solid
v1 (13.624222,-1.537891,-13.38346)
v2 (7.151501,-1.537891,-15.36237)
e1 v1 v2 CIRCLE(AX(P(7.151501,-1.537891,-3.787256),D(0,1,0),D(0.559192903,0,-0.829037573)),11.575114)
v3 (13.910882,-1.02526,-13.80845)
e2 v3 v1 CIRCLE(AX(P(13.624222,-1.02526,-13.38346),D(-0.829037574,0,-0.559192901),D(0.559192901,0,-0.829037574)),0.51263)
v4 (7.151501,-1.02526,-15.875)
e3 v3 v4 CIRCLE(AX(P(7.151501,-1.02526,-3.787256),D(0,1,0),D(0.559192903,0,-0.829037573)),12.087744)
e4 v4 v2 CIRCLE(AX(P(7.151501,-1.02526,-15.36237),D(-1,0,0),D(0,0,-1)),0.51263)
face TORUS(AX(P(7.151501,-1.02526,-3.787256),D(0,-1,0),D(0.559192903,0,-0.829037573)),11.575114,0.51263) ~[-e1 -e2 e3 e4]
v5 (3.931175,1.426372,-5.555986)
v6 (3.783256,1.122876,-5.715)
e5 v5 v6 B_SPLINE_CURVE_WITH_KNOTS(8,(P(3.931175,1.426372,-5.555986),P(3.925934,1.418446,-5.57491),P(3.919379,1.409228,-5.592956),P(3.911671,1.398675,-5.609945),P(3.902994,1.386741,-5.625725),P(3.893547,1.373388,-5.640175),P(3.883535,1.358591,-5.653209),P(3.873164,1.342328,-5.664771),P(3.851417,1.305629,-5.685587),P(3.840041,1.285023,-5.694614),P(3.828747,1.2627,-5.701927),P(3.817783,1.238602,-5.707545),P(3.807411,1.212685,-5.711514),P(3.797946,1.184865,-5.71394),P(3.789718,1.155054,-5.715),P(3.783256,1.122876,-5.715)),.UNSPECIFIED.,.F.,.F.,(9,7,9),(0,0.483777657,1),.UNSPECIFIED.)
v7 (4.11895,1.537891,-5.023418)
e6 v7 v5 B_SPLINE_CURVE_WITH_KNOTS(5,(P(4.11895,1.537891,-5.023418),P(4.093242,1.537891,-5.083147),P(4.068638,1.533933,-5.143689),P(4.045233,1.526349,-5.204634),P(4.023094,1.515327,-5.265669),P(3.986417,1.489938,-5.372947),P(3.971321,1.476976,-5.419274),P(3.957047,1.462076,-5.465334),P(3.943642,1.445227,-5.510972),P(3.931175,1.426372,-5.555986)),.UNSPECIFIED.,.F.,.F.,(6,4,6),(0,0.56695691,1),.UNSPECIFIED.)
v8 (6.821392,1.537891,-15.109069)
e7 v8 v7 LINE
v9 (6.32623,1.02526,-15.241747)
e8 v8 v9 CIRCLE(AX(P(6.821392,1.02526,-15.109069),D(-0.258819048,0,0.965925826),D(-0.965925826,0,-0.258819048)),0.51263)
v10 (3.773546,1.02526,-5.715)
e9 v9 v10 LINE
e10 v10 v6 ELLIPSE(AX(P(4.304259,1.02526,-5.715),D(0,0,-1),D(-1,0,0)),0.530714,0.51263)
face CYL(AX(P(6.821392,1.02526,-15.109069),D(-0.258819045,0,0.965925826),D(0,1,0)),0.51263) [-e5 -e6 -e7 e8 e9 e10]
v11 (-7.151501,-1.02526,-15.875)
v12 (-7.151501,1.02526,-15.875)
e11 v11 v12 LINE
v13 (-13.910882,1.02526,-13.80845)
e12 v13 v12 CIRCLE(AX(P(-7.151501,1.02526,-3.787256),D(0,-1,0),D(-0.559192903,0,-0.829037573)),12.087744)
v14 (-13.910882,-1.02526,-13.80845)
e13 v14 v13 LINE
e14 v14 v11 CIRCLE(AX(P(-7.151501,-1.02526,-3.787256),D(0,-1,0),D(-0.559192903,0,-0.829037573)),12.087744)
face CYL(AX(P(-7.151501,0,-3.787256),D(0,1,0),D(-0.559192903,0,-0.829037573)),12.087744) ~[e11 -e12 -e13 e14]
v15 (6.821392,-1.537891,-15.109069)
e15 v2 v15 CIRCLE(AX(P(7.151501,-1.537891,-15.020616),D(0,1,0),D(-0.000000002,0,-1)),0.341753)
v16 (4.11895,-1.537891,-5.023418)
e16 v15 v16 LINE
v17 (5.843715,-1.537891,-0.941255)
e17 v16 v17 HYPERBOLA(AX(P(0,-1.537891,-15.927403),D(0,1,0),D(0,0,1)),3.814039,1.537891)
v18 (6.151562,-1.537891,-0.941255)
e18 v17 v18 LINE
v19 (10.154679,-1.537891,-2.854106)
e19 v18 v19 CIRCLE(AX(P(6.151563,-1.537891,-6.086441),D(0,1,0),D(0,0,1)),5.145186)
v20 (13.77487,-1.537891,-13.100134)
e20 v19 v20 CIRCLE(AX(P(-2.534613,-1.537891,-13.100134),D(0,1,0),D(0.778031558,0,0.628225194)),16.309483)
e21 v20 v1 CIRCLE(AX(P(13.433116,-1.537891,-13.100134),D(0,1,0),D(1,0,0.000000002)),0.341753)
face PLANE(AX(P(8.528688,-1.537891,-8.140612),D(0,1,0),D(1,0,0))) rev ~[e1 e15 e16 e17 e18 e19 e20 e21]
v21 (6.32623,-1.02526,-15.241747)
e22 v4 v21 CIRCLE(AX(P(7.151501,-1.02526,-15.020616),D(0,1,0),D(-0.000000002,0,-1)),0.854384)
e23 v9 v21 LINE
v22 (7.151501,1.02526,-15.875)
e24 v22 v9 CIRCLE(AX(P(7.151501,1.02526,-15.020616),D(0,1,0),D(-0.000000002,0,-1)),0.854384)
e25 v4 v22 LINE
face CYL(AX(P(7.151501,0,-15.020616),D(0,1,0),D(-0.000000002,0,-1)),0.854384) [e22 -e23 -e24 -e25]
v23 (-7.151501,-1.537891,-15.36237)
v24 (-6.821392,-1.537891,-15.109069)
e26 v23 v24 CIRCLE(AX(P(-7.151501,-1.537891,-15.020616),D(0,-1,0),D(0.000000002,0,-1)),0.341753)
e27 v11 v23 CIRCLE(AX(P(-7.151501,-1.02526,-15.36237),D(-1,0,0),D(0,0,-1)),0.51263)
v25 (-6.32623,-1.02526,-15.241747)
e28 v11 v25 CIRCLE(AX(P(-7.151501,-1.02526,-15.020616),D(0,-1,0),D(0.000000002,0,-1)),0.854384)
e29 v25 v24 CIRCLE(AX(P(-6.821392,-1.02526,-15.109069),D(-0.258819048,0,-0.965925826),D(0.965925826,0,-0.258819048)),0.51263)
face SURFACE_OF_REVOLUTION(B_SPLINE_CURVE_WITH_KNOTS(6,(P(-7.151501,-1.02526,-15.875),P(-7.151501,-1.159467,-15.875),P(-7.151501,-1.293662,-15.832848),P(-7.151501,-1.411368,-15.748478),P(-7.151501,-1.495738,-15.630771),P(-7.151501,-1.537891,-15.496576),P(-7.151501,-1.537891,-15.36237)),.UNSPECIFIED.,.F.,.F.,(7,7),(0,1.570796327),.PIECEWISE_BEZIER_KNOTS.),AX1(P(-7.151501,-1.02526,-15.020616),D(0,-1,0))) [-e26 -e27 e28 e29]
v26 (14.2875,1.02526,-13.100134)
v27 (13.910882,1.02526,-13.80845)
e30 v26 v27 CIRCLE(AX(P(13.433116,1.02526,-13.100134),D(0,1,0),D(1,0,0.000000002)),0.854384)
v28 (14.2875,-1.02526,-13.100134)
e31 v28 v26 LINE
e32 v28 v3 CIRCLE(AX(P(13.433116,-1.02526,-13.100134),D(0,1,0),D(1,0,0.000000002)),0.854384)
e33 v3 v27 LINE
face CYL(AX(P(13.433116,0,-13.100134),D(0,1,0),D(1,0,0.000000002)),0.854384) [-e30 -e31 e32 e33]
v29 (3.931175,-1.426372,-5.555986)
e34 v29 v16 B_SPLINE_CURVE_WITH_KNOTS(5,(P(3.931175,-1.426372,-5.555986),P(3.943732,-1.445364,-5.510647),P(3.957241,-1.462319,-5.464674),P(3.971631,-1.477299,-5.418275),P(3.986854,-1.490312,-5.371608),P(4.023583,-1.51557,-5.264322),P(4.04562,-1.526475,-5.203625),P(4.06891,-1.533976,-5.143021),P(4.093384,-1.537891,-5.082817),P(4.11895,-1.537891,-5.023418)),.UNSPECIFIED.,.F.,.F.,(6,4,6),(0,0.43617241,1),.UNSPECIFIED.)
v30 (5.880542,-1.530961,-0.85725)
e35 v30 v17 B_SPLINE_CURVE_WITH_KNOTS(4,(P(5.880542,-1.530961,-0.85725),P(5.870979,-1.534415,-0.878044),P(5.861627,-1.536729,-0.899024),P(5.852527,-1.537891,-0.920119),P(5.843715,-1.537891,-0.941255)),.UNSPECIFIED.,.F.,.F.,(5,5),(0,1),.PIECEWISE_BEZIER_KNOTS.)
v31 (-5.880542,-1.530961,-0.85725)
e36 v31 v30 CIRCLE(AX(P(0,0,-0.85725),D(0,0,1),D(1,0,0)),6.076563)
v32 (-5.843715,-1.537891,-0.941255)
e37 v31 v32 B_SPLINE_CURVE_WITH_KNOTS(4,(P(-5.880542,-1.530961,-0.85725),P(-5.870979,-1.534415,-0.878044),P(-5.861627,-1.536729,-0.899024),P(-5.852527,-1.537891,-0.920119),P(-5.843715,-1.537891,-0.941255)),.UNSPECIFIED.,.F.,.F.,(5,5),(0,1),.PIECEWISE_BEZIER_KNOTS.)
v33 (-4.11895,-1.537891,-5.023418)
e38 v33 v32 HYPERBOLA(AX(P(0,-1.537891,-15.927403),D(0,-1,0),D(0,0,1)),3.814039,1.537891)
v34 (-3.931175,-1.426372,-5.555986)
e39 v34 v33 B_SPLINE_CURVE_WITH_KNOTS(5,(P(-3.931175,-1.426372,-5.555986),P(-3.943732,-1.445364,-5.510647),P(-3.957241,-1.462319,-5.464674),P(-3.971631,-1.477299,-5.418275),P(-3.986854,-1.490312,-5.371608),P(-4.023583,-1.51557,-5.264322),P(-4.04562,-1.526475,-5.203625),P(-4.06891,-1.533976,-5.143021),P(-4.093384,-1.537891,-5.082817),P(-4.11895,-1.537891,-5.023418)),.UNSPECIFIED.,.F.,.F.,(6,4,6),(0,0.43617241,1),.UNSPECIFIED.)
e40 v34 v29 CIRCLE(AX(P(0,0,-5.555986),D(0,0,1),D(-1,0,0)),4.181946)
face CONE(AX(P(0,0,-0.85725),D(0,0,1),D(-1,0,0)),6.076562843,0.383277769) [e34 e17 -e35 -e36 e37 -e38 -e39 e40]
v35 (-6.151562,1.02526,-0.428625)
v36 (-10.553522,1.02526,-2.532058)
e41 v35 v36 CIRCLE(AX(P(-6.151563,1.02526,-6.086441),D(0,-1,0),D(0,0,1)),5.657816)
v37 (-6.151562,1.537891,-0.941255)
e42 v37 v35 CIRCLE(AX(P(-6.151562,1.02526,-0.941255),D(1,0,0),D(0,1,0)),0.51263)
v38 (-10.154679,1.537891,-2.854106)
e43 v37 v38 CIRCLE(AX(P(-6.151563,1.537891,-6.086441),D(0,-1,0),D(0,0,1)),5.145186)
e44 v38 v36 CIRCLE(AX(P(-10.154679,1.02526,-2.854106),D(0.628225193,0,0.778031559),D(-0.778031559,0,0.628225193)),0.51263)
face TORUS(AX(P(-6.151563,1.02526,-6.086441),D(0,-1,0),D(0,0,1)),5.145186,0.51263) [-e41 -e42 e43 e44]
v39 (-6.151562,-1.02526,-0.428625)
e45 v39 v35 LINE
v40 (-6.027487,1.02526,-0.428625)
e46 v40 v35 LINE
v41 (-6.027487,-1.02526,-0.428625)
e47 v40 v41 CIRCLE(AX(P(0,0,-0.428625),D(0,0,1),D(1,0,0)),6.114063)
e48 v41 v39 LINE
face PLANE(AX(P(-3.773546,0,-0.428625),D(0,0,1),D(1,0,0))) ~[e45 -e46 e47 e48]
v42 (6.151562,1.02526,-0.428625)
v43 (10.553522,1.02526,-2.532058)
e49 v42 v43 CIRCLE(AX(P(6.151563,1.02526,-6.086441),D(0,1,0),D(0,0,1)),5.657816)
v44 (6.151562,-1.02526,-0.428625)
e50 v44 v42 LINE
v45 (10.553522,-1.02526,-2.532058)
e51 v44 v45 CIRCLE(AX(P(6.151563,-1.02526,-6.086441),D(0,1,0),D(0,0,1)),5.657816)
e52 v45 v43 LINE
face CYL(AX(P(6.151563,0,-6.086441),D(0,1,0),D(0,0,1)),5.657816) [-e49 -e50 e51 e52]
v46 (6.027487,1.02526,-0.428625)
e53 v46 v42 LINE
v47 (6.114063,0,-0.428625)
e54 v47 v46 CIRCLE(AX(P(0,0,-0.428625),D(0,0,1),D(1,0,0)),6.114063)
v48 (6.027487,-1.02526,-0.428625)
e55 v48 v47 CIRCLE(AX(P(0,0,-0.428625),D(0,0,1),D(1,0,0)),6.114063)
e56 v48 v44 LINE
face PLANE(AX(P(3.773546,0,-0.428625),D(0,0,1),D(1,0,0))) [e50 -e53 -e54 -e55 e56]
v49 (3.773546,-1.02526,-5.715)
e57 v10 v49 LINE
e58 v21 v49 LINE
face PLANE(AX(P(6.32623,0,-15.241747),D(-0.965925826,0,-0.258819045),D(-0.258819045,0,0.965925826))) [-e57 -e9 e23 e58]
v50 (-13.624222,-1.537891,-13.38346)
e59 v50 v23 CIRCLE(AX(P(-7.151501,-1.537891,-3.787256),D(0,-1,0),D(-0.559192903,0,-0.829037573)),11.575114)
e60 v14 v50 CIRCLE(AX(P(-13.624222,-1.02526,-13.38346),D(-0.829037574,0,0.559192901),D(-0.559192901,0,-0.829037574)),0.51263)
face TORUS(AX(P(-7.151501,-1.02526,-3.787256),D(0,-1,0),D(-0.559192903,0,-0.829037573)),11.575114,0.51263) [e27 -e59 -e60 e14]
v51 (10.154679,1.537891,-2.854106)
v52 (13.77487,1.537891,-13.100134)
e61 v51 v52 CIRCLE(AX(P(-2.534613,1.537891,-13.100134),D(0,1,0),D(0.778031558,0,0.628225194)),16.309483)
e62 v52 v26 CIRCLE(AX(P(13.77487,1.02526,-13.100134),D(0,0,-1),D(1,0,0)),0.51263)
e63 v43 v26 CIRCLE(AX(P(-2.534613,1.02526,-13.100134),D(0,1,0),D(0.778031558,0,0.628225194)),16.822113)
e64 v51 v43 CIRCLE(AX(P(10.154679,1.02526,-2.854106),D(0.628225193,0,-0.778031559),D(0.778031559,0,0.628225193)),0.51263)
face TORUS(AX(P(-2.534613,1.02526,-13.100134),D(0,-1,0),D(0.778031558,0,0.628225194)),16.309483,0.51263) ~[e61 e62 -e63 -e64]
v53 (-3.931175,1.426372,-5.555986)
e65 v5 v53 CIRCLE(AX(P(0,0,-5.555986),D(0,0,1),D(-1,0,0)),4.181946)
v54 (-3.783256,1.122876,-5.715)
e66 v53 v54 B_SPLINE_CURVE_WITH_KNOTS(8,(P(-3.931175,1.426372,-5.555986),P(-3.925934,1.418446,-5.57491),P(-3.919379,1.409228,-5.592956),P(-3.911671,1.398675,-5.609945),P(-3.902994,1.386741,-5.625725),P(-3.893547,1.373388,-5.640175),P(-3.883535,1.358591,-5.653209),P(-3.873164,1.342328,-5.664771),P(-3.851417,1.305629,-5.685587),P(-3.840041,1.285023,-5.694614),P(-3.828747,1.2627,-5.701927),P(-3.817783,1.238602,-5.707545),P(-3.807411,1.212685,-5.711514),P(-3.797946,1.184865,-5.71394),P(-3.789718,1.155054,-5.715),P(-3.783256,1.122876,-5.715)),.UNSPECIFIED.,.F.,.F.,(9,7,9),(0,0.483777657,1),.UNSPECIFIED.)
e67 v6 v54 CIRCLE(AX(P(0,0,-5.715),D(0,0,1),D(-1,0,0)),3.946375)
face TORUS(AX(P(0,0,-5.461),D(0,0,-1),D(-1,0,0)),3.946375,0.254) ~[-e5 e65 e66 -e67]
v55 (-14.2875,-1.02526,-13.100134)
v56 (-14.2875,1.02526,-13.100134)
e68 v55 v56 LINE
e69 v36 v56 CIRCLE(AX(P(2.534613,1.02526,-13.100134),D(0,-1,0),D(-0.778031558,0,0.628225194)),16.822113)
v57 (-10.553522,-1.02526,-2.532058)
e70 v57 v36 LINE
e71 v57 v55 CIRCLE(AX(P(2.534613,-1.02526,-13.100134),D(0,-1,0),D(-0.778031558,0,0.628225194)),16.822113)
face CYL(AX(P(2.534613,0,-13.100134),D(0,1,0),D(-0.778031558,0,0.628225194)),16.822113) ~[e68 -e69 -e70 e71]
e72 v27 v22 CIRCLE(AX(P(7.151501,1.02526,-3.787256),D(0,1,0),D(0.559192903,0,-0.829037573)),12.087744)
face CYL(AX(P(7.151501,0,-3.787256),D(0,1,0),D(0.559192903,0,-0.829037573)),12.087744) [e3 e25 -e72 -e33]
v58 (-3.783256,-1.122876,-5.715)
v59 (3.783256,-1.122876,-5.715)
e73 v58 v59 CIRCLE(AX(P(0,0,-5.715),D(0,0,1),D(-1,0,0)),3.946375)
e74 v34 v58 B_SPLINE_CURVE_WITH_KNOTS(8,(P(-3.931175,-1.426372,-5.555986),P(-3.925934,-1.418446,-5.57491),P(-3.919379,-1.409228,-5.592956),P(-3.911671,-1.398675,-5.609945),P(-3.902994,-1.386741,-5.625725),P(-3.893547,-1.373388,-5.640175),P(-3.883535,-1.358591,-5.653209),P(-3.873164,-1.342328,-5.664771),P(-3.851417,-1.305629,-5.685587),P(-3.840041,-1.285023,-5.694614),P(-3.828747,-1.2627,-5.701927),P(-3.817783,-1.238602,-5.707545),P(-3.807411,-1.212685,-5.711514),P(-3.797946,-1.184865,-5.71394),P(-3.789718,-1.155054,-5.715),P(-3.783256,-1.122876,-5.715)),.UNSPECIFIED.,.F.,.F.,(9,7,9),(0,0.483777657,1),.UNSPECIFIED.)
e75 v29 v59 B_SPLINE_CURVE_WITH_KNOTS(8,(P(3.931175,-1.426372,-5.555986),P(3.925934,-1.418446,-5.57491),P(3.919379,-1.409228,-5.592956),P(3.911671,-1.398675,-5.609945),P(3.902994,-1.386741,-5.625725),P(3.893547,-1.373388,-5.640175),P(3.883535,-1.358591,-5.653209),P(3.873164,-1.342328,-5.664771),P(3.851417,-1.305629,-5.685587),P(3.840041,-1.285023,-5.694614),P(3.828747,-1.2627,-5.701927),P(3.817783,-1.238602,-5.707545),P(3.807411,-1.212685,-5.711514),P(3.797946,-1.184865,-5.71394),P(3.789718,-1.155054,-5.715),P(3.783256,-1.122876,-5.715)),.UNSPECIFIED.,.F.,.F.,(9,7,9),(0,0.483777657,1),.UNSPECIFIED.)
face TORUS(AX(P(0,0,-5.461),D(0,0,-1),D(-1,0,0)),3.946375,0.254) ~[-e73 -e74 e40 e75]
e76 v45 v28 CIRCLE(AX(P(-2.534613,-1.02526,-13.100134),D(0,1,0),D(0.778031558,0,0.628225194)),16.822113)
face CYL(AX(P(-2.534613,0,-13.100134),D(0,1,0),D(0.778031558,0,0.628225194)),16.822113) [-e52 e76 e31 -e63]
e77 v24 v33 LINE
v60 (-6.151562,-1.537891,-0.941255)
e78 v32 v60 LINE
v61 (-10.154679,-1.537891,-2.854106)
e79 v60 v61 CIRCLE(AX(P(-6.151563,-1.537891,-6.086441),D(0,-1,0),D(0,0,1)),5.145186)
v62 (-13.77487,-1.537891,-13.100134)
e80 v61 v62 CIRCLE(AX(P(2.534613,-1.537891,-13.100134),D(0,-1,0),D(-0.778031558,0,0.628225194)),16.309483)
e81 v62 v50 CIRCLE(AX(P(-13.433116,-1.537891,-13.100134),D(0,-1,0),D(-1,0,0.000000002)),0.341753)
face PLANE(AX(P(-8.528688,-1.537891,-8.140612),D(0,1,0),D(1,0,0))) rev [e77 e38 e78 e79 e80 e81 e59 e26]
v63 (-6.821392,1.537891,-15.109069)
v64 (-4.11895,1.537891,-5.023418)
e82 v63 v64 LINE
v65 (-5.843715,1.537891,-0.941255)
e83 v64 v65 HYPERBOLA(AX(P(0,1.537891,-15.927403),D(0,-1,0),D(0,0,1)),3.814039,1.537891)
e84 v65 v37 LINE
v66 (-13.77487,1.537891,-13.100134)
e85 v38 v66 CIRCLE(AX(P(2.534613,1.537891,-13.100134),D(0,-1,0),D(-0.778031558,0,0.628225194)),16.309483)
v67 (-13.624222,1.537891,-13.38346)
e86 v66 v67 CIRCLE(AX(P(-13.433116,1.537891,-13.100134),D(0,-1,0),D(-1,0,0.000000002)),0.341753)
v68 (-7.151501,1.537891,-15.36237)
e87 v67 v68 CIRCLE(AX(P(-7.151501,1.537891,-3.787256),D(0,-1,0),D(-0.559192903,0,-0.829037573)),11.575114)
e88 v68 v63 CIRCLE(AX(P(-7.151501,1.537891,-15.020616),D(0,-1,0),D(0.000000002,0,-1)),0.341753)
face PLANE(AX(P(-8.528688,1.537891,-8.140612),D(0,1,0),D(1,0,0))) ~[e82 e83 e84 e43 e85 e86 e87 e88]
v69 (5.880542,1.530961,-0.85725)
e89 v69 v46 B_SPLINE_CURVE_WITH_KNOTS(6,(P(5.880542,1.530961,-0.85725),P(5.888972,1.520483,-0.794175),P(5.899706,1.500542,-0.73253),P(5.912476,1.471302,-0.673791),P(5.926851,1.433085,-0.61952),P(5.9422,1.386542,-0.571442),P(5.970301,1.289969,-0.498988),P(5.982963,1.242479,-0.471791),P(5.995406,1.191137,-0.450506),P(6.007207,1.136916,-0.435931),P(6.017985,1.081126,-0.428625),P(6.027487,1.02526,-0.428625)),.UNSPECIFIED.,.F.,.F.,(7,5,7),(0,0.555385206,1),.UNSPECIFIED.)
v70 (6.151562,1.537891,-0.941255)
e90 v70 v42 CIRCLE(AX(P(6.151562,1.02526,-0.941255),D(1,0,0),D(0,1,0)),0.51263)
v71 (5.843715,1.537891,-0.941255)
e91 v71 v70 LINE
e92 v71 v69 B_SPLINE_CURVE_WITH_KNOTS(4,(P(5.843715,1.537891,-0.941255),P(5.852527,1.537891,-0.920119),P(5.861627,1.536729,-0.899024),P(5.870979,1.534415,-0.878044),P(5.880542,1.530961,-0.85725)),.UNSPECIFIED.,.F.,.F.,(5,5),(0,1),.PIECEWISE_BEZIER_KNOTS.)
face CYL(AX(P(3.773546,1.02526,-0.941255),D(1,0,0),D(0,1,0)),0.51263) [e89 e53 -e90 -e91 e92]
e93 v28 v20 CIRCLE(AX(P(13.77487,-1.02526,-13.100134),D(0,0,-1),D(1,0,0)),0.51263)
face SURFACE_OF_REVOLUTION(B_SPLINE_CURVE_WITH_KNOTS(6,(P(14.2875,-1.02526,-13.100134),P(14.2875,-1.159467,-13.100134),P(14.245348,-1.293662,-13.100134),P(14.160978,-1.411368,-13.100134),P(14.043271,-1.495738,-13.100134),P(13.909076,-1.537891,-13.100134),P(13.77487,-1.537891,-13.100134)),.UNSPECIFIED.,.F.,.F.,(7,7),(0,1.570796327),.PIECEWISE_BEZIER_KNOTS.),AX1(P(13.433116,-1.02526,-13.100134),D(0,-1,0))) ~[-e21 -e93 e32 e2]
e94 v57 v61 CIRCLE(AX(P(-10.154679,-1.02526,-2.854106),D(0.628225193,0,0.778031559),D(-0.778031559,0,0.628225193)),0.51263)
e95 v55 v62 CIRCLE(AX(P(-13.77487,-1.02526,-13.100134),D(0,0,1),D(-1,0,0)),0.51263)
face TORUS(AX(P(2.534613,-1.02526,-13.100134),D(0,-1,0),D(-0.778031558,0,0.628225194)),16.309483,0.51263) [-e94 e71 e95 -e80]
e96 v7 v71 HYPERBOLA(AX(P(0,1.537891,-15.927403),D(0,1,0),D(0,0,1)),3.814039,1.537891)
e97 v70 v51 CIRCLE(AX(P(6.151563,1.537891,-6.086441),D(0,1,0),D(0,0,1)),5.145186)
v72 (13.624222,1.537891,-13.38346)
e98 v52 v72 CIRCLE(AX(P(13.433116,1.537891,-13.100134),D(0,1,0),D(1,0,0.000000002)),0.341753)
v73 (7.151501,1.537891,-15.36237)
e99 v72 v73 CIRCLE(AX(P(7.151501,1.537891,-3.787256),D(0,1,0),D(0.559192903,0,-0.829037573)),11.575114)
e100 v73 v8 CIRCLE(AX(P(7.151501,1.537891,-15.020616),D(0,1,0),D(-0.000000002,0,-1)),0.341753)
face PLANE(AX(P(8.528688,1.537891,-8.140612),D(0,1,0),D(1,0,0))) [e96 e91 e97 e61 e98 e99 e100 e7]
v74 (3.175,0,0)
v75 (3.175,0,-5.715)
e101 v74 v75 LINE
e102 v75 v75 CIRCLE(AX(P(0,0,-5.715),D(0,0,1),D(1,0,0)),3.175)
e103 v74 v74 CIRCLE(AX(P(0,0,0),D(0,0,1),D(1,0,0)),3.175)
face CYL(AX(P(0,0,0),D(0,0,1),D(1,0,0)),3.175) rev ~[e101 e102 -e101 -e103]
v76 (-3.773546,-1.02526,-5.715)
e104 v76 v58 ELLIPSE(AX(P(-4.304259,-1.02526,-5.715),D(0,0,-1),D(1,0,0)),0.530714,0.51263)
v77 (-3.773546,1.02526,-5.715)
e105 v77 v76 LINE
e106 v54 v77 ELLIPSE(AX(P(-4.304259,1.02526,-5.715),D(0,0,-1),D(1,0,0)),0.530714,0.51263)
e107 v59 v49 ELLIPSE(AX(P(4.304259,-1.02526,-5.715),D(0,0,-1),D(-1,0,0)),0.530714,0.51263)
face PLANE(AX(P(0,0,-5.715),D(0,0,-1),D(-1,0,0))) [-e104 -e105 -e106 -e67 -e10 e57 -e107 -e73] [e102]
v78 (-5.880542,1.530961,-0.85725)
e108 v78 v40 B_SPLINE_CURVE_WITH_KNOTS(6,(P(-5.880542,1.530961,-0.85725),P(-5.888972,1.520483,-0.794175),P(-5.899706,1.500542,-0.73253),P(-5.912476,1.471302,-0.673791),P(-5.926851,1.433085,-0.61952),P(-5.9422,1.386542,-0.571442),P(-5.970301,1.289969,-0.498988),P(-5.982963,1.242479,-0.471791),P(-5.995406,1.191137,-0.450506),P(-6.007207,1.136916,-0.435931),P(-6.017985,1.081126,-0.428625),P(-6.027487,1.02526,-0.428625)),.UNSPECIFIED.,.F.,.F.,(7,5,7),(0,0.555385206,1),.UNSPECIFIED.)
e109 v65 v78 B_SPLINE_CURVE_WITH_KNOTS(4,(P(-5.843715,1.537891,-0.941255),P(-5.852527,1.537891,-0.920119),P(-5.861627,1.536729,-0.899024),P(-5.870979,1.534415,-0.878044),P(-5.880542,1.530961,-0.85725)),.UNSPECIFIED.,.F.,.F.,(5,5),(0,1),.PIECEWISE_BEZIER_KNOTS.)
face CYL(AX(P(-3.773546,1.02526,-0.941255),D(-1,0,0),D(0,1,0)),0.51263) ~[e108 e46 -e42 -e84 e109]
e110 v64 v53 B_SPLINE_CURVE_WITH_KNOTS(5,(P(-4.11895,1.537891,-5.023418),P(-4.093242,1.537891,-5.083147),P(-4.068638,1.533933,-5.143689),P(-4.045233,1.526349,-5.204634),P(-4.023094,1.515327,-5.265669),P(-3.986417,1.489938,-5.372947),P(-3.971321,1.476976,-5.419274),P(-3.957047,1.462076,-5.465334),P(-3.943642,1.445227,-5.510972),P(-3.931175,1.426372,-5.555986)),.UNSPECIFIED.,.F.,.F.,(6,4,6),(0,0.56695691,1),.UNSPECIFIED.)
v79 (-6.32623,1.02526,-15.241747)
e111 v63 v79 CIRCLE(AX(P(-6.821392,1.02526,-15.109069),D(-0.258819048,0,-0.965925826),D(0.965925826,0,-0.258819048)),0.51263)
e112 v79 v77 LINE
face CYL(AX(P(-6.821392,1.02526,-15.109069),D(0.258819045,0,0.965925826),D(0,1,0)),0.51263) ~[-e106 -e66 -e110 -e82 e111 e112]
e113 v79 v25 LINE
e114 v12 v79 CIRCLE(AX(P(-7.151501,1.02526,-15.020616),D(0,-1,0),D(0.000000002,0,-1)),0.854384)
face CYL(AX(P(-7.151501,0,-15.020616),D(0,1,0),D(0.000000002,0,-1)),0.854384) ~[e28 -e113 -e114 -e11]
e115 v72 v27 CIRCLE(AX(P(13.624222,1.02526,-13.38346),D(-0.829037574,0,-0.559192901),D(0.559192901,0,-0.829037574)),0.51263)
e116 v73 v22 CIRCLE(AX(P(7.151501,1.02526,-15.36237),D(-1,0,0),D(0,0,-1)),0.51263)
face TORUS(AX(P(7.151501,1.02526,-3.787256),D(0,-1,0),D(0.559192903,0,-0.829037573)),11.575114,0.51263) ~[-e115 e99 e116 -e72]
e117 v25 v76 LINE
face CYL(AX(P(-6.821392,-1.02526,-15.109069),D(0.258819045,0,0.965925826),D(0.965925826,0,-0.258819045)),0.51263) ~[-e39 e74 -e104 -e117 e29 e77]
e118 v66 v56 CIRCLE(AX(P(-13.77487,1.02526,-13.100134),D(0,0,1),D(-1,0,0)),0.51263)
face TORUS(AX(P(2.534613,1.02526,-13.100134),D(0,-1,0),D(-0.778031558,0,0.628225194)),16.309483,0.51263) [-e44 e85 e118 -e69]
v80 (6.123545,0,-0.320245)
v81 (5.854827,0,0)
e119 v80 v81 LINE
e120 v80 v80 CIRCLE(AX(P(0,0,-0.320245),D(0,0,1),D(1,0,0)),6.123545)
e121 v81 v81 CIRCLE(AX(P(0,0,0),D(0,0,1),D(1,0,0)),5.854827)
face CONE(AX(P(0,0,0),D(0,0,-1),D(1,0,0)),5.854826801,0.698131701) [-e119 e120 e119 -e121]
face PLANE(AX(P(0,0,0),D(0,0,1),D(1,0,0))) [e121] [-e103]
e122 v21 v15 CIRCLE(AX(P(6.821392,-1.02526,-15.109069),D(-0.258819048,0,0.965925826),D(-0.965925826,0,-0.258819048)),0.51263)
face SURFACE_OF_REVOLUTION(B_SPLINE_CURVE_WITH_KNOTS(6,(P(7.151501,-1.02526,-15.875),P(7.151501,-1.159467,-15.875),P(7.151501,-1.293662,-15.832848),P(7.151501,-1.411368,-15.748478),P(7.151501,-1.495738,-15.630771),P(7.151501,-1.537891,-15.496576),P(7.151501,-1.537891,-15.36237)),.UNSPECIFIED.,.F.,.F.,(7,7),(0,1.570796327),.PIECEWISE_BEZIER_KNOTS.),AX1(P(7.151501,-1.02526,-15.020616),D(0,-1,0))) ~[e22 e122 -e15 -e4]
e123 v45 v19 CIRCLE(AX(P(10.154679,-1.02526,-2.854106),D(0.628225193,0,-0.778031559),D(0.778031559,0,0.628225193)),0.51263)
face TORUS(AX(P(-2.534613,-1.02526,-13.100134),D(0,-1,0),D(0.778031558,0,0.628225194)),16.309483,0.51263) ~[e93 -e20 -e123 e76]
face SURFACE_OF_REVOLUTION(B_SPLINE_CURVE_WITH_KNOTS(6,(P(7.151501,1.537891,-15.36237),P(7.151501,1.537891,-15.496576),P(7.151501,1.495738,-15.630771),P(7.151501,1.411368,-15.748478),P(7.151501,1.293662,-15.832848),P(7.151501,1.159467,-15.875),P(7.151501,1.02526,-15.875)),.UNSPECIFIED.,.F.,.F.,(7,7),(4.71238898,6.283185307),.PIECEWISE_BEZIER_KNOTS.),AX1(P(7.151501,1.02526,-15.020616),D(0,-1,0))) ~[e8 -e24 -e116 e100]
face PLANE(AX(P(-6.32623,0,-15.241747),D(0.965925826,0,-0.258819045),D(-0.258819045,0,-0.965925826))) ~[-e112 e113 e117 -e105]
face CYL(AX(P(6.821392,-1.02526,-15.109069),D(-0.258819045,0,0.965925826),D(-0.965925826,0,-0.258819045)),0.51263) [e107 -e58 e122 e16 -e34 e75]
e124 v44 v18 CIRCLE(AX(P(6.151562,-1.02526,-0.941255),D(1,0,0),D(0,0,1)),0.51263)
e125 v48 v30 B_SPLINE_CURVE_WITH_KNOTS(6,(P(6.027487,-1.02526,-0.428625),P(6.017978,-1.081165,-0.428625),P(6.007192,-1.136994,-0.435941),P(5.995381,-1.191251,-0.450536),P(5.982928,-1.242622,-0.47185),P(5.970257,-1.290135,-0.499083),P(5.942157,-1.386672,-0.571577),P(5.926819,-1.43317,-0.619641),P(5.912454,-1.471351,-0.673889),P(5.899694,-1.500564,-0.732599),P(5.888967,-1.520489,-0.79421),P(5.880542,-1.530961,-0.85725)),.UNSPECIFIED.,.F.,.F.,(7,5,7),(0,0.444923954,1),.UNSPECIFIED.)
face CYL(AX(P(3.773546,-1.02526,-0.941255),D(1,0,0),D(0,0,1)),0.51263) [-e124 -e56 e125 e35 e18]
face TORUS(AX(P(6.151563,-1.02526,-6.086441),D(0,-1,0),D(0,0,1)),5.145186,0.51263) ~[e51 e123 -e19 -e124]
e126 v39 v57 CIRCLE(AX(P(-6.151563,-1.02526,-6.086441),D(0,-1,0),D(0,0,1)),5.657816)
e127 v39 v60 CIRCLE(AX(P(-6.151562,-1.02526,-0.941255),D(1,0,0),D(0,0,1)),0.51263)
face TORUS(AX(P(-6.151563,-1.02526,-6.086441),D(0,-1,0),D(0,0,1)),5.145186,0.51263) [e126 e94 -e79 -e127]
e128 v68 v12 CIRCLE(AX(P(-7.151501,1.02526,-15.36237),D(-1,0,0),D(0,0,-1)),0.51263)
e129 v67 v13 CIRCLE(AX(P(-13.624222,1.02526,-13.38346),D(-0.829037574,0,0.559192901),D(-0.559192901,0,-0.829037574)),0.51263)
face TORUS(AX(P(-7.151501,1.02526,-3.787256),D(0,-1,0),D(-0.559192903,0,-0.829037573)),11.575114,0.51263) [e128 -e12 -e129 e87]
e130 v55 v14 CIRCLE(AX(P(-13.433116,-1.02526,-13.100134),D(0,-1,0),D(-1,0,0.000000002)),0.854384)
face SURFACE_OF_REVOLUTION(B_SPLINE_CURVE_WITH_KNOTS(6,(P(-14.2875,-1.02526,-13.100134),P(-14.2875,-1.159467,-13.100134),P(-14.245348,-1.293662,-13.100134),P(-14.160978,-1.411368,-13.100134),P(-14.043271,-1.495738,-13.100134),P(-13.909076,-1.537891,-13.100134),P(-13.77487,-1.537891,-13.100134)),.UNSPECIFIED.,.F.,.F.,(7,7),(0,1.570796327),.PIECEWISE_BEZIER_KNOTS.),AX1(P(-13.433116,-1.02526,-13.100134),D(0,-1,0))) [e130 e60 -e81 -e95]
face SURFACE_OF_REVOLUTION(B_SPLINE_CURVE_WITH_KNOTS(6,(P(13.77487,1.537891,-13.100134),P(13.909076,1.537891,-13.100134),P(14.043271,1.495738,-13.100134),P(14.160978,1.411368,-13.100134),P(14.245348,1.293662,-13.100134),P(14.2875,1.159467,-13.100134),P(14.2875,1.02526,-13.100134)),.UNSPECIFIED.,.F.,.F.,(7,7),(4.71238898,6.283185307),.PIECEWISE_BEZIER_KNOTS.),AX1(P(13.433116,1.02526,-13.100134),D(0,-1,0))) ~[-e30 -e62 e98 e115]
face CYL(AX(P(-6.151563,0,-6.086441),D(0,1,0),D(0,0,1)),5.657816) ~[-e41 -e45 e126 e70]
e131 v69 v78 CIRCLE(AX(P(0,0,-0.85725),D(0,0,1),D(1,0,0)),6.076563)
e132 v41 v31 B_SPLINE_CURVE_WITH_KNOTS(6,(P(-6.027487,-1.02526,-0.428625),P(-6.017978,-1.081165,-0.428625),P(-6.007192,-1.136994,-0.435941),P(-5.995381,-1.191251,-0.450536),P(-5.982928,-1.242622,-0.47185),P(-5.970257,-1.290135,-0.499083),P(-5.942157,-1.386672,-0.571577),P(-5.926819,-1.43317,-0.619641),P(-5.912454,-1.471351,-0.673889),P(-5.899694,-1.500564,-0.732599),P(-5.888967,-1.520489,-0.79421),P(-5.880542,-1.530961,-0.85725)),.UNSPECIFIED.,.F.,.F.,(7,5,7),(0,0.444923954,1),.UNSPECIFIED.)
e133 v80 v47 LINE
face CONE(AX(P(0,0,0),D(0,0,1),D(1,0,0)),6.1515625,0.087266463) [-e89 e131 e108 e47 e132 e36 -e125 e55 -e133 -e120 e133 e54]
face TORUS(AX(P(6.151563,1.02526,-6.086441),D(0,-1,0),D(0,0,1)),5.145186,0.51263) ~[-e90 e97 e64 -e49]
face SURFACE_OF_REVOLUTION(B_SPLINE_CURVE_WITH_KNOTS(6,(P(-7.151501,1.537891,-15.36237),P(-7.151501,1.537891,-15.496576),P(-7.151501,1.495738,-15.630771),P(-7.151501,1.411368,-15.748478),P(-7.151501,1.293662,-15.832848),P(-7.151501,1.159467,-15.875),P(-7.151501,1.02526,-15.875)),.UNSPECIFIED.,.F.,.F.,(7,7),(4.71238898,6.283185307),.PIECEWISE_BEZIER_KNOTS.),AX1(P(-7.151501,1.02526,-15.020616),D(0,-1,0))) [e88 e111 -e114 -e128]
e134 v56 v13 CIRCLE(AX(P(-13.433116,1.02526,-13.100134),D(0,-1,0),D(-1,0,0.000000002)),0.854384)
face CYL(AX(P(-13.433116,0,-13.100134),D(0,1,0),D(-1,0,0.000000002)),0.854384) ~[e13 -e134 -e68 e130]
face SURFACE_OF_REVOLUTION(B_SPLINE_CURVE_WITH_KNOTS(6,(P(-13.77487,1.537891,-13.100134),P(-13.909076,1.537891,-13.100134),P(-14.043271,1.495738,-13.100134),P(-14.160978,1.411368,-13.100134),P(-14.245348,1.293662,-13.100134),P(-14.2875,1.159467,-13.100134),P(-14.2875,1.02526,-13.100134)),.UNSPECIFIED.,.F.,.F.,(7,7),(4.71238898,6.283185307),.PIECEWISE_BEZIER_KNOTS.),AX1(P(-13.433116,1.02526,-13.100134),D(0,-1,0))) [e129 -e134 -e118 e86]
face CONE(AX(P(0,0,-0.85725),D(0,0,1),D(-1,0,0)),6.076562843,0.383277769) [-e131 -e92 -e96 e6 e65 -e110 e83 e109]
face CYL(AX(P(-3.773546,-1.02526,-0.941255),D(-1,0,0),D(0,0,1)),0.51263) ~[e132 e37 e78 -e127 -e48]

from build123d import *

# Parameters (mm, degrees)
EXTRUDE2_DEPTH     = 1.537890625
SKETCH3_R          = 6.1515625
EXTRUDE1_DEPTH     = 0.85725
EXTRUDE1_DRAFT     = -5
SKETCH15_R         = 6.076562843
EXTRUDE3_DEPTH     = 4.85775
EXTRUDE3_TAPER     = 21.960198558
FILLET3_R          = 0.254
SKETCH4_R          = 3.175
CUT_EXTRUDE1_DEPTH = 23.225885864
CHAMFER1_SIZE      = 0.32146875
CHAMFER1_SIZE2     = 0.296735699
FILLET4_R          = 0.512630208


with BuildPart() as part:
    # Sketch13 → Extrude2 (new, symmetric)
    with BuildSketch(Plane(origin=(0, 0, 0), x_dir=(1, 0, 0), z_dir=(0, 1, 0))):
        with BuildLine():
            Line((3.773545526, 0.428625), (6.1515625, 0.428625))
            ThreePointArc((6.1515625, 0.428625), (8.590910612, 0.981496101), (10.553521716, 2.53205836))
            ThreePointArc((10.553521716, 2.53205836), (13.326559198, 7.495965423), (14.2875, 13.10013378))
            ThreePointArc((14.2875, 13.10013378), (14.187492334, 13.501242622), (13.91088161, 13.808449953))
            ThreePointArc((13.91088161, 13.808449953), (10.685615281, 15.346823078), (7.151500977, 15.875))
            ThreePointArc((7.151500977, 15.875), (6.631385147, 15.698444466), (6.326229714, 15.241747088))
            Line((6.326229714, 15.241747088), (3.773545526, 5.715))
            Line((3.773545526, 5.715), (3.773545526, 0.428625))
        make_face()
    extrude(amount=EXTRUDE2_DEPTH, both=True)

    # Fillet4
    fillet4_edges = [part.edges().sort_by_distance(p)[0] for p in [
        (8.590910612, 1.537890625, -0.981496101),
        (4.962554013, -1.537890625, -0.428625),
        (13.326559198, 1.537890625, -7.495965423),
        (14.187492334, 1.537890625, -13.501242622),
        (10.685615281, 1.537890625, -15.346823078),
        (6.631385147, 1.537890625, -15.698444466),
        (5.04988762, 1.537890625, -10.478373544),
        (4.962554013, 1.537890625, -0.428625),
        (5.04988762, -1.537890625, -10.478373544),
        (6.631385147, -1.537890625, -15.698444466),
        (10.685615281, -1.537890625, -15.346823078),
        (14.187492334, -1.537890625, -13.501242622),
        (13.326559198, -1.537890625, -7.495965423),
        (8.590910612, -1.537890625, -0.981496101),
    ]]
    fillet(fillet4_edges, radius=FILLET4_R)


with BuildPart() as body_2:
    # Sketch3 → Extrude1 (with draft: the straight prism first)
    with BuildSketch(Plane.XY):
        Circle(SKETCH3_R)
    extrude(amount=-EXTRUDE1_DEPTH)
    # Extrude1: the draft: its side faces are tilted about the plane it starts from
    extrude1_sides = [body_2.faces().sort_by_distance(p)[0] for p in [
        (-6.1515625, 0, -0.428625),
    ]]
    draft(extrude1_sides, Plane.XY, EXTRUDE1_DRAFT)

    # Sketch15 → Extrude3 (add)
    with BuildSketch(Plane(origin=(0, 0, -0.85725), x_dir=(-1, 0, 0), z_dir=(0, 0, -1))):
        Circle(SKETCH15_R)
    extrude(amount=EXTRUDE3_DEPTH, taper=EXTRUDE3_TAPER)

    # Fillet3
    fillet3_edges = [body_2.edges().sort_by_distance(p)[0] for p in [
        (4.117828705, 0, -5.715),
    ]]
    fillet(fillet3_edges, radius=FILLET3_R)

    # Sketch4 → Cut-Extrude1 (cut, through all)
    with BuildSketch(Plane.XY):
        Circle(SKETCH4_R)
    extrude(amount=-CUT_EXTRUDE1_DEPTH, mode=Mode.SUBTRACT)

    # Chamfer1
    chamfer1_edges = [body_2.edges().sort_by_distance(p)[0] for p in [
        (-6.1515625, 0, 0),
    ]]
    chamfer1_side = [body_2.faces().sort_by_distance(p)[0] for p in [
        (-6.114062672, 0, -0.428625),
    ]]
    chamfer(chamfer1_edges, length=CHAMFER1_SIZE, length2=CHAMFER1_SIZE2, reference=chamfer1_side[0])


with BuildPart() as body_3:
    # Mirror6: mirrored copy
    add(part.part.mirror(Plane(origin=(0, 0, 0), x_dir=(0, 0, 1), z_dir=(1, 0, 0))))

    # Combine2: union part, body 2
    add(part.part)
    add(body_2.part)


solid = body_3.part
